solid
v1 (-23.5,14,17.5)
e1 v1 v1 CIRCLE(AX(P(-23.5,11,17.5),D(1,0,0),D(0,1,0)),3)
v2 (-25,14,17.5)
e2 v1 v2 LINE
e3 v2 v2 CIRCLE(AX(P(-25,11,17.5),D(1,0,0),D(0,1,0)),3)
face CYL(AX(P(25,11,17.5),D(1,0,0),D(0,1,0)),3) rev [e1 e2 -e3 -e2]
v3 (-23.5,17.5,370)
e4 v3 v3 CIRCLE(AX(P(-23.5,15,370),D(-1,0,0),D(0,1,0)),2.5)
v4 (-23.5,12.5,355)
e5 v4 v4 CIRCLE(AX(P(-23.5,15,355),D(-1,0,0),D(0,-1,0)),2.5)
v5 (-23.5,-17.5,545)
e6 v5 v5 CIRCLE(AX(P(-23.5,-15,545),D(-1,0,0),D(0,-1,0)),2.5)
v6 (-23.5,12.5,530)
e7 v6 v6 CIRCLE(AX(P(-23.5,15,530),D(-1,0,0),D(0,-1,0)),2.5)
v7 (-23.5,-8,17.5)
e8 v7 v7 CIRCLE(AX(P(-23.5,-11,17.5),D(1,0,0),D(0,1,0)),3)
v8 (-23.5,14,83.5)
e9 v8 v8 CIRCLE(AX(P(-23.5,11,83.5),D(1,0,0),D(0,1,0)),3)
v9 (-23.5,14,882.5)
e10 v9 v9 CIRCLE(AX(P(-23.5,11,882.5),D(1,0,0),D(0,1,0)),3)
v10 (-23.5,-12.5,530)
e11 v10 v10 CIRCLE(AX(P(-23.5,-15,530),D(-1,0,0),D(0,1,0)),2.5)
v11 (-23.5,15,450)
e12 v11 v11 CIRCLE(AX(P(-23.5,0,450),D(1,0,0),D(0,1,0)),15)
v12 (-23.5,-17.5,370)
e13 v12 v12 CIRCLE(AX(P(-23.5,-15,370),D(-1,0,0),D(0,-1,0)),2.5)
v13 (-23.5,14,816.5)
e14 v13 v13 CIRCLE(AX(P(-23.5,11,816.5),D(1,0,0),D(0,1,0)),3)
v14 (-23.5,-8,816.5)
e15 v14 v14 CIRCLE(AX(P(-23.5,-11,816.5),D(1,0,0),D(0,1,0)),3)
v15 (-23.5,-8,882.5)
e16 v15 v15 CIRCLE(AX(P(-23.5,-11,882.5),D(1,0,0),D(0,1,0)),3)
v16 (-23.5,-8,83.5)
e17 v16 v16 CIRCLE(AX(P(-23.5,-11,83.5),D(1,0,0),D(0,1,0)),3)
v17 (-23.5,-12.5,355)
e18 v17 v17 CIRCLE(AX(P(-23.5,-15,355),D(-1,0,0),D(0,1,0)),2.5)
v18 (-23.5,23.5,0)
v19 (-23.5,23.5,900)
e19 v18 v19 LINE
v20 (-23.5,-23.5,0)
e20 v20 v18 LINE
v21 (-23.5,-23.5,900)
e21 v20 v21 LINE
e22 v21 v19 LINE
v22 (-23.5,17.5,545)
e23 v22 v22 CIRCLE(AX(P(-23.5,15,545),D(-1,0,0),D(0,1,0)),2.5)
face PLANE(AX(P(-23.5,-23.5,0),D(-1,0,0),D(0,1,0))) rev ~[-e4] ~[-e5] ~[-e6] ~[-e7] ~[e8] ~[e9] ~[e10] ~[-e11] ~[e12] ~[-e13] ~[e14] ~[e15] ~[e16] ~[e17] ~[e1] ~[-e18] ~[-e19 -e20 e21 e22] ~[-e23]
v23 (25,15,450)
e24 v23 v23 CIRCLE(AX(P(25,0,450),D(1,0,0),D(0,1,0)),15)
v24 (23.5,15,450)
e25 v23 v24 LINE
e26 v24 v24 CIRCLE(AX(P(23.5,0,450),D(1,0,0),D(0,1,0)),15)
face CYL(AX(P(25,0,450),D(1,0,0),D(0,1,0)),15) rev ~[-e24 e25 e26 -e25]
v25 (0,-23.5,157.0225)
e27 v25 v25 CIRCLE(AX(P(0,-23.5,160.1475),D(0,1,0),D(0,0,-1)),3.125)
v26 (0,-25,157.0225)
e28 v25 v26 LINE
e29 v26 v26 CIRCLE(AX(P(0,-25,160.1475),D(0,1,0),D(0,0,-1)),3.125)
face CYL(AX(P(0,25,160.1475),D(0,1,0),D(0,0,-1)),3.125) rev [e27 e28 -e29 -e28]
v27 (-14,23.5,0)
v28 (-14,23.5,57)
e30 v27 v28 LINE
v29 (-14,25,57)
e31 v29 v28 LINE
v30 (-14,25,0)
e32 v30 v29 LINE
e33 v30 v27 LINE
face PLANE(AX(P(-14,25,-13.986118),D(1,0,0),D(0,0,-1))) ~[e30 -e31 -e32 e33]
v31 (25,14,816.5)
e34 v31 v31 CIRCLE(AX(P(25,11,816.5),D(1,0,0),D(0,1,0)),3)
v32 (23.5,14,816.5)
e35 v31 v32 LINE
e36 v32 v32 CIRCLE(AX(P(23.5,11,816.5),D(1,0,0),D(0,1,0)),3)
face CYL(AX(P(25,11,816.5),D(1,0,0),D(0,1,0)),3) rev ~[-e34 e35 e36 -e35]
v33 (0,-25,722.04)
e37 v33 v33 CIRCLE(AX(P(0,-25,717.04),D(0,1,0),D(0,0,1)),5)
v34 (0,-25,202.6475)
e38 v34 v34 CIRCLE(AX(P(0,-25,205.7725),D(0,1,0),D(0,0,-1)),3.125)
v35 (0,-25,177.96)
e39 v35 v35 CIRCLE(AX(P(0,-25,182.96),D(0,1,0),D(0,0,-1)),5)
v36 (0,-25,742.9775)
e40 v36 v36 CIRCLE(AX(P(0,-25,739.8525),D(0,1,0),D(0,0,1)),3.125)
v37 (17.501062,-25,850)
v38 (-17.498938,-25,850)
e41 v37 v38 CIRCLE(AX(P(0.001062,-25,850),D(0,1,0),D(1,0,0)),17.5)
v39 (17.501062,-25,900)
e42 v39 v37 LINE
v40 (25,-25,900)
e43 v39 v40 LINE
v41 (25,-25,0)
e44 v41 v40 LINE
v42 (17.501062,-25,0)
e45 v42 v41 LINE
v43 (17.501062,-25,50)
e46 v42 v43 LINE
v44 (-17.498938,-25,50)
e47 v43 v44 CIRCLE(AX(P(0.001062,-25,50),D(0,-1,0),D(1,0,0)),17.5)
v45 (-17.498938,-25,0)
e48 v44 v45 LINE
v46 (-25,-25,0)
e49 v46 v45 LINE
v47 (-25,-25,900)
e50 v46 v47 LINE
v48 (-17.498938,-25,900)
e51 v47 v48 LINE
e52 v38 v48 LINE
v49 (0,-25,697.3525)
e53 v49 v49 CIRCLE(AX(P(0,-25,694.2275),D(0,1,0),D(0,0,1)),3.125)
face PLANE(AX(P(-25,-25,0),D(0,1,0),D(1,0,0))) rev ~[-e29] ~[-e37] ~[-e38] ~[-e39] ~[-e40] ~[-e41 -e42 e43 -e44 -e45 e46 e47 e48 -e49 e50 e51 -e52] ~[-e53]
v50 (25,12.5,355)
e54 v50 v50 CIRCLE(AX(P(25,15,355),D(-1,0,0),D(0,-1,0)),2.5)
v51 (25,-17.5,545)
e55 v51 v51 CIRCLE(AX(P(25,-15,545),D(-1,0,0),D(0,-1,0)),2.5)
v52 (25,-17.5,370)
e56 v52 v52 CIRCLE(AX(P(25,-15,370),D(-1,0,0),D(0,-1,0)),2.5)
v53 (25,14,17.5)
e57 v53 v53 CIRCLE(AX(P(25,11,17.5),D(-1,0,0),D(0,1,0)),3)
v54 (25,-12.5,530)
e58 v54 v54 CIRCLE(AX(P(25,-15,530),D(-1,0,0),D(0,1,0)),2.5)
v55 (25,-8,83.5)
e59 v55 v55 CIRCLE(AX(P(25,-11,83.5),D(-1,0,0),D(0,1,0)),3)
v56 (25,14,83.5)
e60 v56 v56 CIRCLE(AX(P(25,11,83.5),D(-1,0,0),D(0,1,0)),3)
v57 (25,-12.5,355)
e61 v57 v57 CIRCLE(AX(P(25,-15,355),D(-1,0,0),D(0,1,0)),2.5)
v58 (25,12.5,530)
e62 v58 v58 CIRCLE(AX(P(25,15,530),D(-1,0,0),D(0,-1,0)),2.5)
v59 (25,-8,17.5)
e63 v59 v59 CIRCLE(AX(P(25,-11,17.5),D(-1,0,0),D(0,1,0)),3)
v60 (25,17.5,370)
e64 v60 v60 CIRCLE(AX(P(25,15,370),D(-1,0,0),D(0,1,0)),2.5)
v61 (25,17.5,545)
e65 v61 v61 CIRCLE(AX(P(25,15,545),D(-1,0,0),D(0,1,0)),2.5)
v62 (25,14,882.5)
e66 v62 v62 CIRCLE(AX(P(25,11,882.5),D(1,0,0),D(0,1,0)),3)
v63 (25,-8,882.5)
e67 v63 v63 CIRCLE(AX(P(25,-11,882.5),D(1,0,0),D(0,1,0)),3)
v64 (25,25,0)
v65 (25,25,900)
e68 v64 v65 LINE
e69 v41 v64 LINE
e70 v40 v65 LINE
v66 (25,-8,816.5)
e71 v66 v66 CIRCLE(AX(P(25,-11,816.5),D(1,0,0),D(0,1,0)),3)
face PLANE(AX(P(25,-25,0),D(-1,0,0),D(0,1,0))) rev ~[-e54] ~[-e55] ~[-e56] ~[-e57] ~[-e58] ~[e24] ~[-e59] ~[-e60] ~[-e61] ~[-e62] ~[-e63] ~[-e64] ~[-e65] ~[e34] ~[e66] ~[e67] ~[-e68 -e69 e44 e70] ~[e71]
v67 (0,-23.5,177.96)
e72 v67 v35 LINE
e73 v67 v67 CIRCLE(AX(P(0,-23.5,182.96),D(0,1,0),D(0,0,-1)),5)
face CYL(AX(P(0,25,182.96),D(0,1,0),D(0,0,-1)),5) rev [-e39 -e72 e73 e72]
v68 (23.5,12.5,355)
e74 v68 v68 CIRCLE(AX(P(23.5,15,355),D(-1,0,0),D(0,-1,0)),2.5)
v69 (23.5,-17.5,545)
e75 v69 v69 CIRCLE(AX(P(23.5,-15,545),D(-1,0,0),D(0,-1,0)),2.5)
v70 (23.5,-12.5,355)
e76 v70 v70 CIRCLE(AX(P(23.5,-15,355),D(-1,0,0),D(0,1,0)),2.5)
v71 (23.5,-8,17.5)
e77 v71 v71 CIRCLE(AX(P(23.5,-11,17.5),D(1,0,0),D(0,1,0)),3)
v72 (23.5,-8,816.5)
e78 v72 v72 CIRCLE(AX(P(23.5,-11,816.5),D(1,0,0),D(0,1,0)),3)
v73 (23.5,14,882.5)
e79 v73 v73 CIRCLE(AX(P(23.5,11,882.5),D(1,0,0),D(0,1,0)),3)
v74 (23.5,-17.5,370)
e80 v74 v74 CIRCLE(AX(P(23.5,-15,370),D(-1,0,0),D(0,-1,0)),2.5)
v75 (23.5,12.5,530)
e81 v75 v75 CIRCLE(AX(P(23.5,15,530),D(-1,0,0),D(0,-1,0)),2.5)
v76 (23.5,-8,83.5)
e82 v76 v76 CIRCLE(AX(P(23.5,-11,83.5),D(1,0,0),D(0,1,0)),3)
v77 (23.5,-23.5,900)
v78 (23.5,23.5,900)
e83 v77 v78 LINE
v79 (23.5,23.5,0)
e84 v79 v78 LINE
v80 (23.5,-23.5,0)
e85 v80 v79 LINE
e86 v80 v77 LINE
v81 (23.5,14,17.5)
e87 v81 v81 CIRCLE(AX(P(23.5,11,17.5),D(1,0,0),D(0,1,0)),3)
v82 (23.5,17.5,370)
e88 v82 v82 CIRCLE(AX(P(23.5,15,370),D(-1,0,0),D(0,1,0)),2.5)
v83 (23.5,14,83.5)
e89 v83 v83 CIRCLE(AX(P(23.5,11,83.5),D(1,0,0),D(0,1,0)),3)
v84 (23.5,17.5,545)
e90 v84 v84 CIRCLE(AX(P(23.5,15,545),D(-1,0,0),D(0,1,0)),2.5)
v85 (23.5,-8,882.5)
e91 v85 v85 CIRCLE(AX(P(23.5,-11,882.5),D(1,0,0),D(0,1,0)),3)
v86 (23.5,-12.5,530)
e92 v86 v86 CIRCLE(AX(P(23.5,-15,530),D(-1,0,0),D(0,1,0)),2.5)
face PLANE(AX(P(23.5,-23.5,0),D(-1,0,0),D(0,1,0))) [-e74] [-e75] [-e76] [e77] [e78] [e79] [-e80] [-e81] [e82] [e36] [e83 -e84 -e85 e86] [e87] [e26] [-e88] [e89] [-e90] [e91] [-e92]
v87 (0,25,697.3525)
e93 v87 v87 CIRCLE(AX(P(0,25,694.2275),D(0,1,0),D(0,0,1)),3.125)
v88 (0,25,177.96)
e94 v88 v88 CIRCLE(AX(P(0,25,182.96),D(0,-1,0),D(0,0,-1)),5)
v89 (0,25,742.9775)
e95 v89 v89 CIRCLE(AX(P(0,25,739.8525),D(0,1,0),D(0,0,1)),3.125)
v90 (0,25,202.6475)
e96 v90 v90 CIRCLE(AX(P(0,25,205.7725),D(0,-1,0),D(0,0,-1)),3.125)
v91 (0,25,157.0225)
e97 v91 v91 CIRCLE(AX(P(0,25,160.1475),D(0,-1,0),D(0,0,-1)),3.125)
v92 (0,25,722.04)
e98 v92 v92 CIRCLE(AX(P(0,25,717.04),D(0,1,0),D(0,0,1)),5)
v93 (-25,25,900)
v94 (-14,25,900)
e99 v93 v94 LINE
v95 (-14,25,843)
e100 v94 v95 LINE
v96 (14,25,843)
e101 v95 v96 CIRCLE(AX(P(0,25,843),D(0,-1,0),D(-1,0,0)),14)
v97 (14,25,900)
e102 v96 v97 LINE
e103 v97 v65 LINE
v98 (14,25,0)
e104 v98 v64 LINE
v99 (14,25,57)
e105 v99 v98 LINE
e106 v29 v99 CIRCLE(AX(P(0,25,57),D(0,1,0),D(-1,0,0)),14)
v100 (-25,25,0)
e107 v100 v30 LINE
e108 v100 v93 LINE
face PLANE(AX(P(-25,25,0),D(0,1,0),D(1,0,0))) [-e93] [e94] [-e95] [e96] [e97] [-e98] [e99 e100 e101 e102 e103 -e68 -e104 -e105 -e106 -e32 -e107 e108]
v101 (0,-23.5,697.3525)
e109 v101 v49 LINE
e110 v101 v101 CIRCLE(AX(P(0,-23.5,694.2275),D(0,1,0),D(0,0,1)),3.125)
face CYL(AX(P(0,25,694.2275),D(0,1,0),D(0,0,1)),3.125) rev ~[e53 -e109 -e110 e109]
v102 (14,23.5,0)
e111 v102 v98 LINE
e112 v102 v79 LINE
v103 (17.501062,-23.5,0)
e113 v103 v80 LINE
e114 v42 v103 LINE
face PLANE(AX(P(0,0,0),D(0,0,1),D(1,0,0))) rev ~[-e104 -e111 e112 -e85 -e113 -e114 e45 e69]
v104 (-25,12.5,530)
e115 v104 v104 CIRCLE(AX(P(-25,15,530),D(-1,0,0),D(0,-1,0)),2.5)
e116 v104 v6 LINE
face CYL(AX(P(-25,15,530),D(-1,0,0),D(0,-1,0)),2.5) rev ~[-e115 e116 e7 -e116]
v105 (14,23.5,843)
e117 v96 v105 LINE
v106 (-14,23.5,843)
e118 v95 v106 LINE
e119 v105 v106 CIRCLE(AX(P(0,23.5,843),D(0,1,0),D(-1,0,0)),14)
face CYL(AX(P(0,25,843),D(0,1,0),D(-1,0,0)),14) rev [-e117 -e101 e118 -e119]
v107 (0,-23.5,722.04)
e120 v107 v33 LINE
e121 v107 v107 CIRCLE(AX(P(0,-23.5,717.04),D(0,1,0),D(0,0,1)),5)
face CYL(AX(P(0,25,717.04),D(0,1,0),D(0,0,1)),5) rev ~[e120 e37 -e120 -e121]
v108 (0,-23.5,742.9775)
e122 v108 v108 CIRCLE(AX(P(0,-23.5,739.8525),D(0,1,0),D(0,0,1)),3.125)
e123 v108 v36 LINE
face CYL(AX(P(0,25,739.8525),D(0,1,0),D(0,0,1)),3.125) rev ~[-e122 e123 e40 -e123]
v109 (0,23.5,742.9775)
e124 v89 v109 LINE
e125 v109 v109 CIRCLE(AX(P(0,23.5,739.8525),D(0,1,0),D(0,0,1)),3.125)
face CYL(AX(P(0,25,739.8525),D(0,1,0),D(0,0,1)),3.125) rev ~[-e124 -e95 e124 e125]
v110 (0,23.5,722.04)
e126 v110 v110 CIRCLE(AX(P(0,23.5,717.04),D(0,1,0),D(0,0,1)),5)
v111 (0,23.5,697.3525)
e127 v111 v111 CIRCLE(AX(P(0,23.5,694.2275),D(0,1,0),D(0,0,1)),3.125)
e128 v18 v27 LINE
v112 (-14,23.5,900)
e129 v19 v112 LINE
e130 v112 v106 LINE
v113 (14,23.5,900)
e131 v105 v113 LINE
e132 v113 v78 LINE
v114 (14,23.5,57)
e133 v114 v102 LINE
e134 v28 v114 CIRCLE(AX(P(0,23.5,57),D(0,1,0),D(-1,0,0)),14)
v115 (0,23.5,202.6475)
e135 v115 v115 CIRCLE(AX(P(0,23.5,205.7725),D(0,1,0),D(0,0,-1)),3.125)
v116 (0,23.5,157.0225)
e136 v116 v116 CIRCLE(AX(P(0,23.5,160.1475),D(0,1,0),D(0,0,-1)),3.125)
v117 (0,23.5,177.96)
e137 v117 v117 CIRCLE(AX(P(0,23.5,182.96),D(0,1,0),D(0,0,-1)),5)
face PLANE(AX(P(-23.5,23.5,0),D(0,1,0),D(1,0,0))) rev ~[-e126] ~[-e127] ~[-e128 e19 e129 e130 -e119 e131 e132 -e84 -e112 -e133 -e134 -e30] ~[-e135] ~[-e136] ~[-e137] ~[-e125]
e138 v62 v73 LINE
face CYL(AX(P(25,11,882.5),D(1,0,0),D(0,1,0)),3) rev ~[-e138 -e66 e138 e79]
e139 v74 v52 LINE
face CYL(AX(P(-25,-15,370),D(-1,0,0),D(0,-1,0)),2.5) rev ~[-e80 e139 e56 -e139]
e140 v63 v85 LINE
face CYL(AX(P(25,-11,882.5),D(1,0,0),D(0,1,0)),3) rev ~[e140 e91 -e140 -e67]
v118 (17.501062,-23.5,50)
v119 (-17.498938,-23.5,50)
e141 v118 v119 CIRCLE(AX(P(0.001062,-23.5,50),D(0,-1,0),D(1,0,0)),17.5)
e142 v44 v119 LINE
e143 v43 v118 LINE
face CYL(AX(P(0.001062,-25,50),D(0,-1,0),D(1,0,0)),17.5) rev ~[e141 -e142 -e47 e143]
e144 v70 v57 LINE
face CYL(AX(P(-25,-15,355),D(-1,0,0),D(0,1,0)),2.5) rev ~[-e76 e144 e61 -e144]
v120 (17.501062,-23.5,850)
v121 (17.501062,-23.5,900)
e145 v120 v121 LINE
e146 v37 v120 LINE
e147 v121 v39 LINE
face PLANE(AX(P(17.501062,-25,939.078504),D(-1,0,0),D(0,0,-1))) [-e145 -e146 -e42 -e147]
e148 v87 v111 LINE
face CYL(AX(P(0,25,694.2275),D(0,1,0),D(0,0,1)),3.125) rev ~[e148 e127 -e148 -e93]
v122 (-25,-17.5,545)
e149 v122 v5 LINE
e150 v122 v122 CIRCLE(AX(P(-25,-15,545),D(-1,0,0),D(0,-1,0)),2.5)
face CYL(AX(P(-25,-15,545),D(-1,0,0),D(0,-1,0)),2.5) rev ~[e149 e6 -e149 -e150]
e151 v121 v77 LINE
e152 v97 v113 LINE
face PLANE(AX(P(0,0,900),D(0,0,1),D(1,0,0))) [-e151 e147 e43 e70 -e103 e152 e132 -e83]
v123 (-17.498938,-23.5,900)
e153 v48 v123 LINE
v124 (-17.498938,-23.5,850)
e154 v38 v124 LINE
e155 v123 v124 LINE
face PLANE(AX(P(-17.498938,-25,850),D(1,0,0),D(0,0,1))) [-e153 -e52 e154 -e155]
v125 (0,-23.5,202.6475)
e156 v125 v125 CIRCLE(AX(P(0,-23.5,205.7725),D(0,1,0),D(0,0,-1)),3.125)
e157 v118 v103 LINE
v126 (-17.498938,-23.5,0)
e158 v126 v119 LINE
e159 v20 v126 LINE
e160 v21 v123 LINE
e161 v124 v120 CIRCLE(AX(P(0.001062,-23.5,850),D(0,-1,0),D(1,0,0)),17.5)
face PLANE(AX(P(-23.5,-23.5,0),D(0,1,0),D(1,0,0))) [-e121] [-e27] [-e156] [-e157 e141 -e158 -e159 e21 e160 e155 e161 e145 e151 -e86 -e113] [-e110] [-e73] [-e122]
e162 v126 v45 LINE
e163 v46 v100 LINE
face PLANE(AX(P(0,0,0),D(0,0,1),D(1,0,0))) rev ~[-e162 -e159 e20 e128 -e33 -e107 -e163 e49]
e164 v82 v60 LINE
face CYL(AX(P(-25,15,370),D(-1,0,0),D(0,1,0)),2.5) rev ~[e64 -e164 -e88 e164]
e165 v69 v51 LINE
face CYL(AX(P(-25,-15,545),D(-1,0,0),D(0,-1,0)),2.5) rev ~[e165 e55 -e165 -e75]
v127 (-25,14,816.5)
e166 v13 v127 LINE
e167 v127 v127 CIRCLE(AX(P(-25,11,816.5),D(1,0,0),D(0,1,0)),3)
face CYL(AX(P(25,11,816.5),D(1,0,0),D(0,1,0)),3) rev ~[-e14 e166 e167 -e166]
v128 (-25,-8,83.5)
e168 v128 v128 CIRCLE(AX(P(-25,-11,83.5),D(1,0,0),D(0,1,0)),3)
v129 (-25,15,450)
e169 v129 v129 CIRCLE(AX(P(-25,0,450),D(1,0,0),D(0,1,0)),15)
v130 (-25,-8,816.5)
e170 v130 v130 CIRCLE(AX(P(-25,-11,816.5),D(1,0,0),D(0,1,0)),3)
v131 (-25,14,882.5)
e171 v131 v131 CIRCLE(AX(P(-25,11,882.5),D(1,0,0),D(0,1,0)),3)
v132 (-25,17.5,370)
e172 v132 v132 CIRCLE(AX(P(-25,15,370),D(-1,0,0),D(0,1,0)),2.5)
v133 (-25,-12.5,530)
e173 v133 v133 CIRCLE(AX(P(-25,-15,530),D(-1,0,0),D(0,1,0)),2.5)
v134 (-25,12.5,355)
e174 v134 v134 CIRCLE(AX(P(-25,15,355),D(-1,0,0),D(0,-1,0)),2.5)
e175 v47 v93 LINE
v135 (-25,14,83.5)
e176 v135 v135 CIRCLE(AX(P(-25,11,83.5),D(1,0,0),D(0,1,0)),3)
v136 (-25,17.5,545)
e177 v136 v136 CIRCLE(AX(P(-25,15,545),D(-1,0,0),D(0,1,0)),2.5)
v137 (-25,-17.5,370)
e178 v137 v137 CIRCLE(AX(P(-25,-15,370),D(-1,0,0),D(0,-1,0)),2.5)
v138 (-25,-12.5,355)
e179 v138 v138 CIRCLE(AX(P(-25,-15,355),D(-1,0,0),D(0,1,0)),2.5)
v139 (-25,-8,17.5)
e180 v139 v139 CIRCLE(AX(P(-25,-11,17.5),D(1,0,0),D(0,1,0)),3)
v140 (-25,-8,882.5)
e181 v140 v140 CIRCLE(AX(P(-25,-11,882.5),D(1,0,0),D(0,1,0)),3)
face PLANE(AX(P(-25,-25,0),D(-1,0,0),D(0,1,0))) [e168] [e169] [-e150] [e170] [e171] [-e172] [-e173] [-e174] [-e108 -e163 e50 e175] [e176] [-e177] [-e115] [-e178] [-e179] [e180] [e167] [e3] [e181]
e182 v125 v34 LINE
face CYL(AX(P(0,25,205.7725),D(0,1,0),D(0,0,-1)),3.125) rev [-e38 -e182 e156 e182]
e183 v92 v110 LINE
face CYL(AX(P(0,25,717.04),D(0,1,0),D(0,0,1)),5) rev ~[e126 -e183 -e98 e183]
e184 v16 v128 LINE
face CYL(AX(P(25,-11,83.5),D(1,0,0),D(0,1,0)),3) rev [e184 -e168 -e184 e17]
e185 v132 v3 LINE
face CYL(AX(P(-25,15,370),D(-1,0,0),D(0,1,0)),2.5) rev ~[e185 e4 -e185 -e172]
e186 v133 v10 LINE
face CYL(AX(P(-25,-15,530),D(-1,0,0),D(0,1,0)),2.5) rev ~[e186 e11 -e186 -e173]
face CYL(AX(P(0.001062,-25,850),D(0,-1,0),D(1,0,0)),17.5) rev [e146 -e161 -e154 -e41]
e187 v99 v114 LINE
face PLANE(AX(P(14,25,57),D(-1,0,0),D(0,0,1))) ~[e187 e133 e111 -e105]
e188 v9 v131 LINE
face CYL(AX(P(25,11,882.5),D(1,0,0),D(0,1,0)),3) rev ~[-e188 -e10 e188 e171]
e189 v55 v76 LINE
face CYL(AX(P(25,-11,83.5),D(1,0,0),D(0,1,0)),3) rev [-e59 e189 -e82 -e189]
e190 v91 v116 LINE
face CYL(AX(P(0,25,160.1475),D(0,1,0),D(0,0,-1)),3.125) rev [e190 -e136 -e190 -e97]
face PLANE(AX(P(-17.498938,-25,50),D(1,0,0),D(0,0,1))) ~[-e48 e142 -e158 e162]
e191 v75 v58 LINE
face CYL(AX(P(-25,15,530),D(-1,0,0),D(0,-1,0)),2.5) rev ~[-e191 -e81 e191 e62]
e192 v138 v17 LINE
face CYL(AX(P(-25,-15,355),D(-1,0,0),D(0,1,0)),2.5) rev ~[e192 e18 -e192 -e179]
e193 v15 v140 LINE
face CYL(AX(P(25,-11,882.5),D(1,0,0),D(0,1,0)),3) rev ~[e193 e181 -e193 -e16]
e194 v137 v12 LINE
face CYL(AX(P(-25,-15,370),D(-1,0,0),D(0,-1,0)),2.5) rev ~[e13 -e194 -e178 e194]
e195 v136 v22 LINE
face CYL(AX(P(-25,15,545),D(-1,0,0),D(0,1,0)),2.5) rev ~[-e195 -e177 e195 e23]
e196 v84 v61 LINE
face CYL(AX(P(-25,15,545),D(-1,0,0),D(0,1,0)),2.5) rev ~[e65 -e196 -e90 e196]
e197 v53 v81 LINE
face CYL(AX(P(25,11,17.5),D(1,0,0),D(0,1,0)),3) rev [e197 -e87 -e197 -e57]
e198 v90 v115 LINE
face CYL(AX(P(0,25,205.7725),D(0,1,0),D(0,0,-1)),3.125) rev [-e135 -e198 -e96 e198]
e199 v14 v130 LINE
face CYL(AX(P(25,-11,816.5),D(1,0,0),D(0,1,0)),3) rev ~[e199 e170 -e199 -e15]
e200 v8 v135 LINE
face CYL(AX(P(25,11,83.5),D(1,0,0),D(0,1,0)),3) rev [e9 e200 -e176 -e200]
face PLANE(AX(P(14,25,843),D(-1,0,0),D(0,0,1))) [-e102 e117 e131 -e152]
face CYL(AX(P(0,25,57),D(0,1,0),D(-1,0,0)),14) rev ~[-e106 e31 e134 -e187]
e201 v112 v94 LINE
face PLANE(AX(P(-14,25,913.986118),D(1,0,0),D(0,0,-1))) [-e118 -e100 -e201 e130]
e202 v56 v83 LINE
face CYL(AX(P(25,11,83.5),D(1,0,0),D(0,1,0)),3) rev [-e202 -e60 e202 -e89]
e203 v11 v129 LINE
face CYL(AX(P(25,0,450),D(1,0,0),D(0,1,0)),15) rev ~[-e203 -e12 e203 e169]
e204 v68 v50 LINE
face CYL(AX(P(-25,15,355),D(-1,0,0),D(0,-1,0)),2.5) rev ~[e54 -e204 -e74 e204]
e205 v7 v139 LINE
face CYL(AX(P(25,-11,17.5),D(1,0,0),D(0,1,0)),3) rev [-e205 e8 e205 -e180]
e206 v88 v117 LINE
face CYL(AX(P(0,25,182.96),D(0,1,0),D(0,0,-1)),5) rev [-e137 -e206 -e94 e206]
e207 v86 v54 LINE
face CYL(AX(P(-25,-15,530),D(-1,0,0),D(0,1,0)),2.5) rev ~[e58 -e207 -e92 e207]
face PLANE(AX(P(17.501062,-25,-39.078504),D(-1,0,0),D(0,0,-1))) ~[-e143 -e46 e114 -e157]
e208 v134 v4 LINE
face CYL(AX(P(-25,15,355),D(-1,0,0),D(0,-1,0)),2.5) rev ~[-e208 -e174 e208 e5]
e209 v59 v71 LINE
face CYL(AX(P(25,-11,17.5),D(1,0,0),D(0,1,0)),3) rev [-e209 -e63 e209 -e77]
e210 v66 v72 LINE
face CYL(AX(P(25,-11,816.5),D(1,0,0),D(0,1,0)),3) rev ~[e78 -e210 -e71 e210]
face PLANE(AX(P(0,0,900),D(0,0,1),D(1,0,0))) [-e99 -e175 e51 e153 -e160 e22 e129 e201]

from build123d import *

# Parameters (mm, degrees)
SKETCH1_W           = 50
SKETCH1_H           = 50
SKETCH1_W_2         = 47
SKETCH1_H_2         = 47
BOSS_EXTRUDE1_DEPTH = 900
SKETCH2_R           = 15
CUT_EXTRUDE1_DEPTH  = 59
CUT_EXTRUDE2_DEPTH  = 10
CUT_EXTRUDE3_DEPTH  = 10
SKETCH5_R           = 3
CUT_EXTRUDE4_DEPTH  = 55
SKETCH6_R           = 3.125
SKETCH6_R_2         = 5
CUT_EXTRUDE5_DEPTH  = 70
SKETCH7_R           = 2.5
CUT_EXTRUDE6_DEPTH  = 902.734439844


with BuildPart() as part:
    # Sketch1 → Boss-Extrude1 (new body)
    with BuildSketch(Plane.XY):
        Rectangle(SKETCH1_W, SKETCH1_H)
        Rectangle(SKETCH1_W_2, SKETCH1_H_2, mode=Mode.SUBTRACT)
    extrude(amount=BOSS_EXTRUDE1_DEPTH)

    # Sketch2 → Cut-Extrude1 (cut)
    with BuildSketch(Plane(origin=(25, 0, 0), x_dir=(0, 0, -1), z_dir=(1, 0, 0))):
        with Locations(Location((-450, 0, 0), (0, 0, 90))):
            Circle(SKETCH2_R)
    extrude(amount=-CUT_EXTRUDE1_DEPTH, mode=Mode.SUBTRACT)

    # Sketch3 → Cut-Extrude2 (cut)
    with BuildSketch(Plane(origin=(0, 25, 0), x_dir=(1, 0, 0), z_dir=(0, 1, 0))):
        with BuildLine():
            Line((14, -843), (14, -913.98611775))
            ThreePointArc((14, -913.98611775), (0, -927.98611775), (-14, -913.98611775))
            Line((-14, -913.98611775), (-14, -843))
            ThreePointArc((-14, -843), (0, -829), (14, -843))
        make_face()
    cut_extrude2 = extrude(amount=-CUT_EXTRUDE2_DEPTH, mode=Mode.SUBTRACT)

    # Sketch4 → Cut-Extrude3 (cut)
    with BuildSketch(Plane.XZ.offset(25)):
        with BuildLine():
            Line((-17.498938419, 850), (-17.498938419, 939.078503923))
            ThreePointArc((-17.498938419, 939.078503923), (0.001061581, 956.578503923), (17.501061581, 939.078503923))
            Line((17.501061581, 939.078503923), (17.501061581, 850))
            ThreePointArc((17.501061581, 850), (0.001061581, 832.5), (-17.498938419, 850))
        make_face()
    cut_extrude3 = extrude(amount=-CUT_EXTRUDE3_DEPTH, mode=Mode.SUBTRACT)

    # Sketch5 → Cut-Extrude4 (cut)
    with BuildSketch(Plane(origin=(25, 0, 0), x_dir=(0, 0, -1), z_dir=(1, 0, 0))):
        with Locations(Location((-882.5, 11, 0), (0, 0, 90))):
            Circle(SKETCH5_R)
        with Locations(Location((-882.5, -11, 0), (0, 0, 90))):
            Circle(SKETCH5_R)
        with Locations(Location((-816.5, -11, 0), (0, 0, 90))):
            Circle(SKETCH5_R)
        with Locations(Location((-816.5, 11, 0), (0, 0, 90))):
            Circle(SKETCH5_R)
    cut_extrude4 = extrude(amount=-CUT_EXTRUDE4_DEPTH, mode=Mode.SUBTRACT)

    # Mirror1: Cut-Extrude2, Cut-Extrude3, Cut-Extrude4 across plane
    add(cut_extrude2.mirror(Plane.XY.offset(450)), mode=Mode.SUBTRACT)
    add(cut_extrude3.mirror(Plane.XY.offset(450)), mode=Mode.SUBTRACT)
    add(cut_extrude4.mirror(Plane.XY.offset(450)), mode=Mode.SUBTRACT)

    # Sketch6 → Cut-Extrude5 (cut)
    with BuildSketch(Plane(origin=(0, 25, 0), x_dir=(1, 0, 0), z_dir=(0, 1, 0))):
        with Locations(Location((0, -694.2275, 0), (0, 0, 270))):
            Circle(SKETCH6_R)
        with Locations(Location((0, -739.8525, 0), (0, 0, 270))):
            Circle(SKETCH6_R)
        with Locations(Location((0, -717.04, 0), (0, 0, 270))):
            Circle(SKETCH6_R_2)
    cut_extrude5 = extrude(amount=-CUT_EXTRUDE5_DEPTH, mode=Mode.SUBTRACT)

    # Mirror2: Cut-Extrude5 across plane
    add(cut_extrude5.mirror(Plane.XY.offset(450)), mode=Mode.SUBTRACT)

    # Sketch7 → Cut-Extrude6 (cut, through all)
    with BuildSketch(Plane.ZY.offset(25)):
        with Locations(Location((355, 15, 0), (0, 0, 270))):
            Circle(SKETCH7_R)
        with Locations(Location((370, 15, 0), (0, 0, 90))):
            Circle(SKETCH7_R)
        with Locations(Location((370, -15, 0), (0, 0, 270))):
            Circle(SKETCH7_R)
        with Locations(Location((355, -15, 0), (0, 0, 90))):
            Circle(SKETCH7_R)
        with Locations(Location((545, -15, 0), (0, 0, 270))):
            Circle(SKETCH7_R)
        with Locations(Location((530, -15, 0), (0, 0, 90))):
            Circle(SKETCH7_R)
        with Locations(Location((530, 15, 0), (0, 0, 270))):
            Circle(SKETCH7_R)
        with Locations(Location((545, 15, 0), (0, 0, 90))):
            Circle(SKETCH7_R)
    extrude(amount=-CUT_EXTRUDE6_DEPTH, mode=Mode.SUBTRACT)


solid = part.part
